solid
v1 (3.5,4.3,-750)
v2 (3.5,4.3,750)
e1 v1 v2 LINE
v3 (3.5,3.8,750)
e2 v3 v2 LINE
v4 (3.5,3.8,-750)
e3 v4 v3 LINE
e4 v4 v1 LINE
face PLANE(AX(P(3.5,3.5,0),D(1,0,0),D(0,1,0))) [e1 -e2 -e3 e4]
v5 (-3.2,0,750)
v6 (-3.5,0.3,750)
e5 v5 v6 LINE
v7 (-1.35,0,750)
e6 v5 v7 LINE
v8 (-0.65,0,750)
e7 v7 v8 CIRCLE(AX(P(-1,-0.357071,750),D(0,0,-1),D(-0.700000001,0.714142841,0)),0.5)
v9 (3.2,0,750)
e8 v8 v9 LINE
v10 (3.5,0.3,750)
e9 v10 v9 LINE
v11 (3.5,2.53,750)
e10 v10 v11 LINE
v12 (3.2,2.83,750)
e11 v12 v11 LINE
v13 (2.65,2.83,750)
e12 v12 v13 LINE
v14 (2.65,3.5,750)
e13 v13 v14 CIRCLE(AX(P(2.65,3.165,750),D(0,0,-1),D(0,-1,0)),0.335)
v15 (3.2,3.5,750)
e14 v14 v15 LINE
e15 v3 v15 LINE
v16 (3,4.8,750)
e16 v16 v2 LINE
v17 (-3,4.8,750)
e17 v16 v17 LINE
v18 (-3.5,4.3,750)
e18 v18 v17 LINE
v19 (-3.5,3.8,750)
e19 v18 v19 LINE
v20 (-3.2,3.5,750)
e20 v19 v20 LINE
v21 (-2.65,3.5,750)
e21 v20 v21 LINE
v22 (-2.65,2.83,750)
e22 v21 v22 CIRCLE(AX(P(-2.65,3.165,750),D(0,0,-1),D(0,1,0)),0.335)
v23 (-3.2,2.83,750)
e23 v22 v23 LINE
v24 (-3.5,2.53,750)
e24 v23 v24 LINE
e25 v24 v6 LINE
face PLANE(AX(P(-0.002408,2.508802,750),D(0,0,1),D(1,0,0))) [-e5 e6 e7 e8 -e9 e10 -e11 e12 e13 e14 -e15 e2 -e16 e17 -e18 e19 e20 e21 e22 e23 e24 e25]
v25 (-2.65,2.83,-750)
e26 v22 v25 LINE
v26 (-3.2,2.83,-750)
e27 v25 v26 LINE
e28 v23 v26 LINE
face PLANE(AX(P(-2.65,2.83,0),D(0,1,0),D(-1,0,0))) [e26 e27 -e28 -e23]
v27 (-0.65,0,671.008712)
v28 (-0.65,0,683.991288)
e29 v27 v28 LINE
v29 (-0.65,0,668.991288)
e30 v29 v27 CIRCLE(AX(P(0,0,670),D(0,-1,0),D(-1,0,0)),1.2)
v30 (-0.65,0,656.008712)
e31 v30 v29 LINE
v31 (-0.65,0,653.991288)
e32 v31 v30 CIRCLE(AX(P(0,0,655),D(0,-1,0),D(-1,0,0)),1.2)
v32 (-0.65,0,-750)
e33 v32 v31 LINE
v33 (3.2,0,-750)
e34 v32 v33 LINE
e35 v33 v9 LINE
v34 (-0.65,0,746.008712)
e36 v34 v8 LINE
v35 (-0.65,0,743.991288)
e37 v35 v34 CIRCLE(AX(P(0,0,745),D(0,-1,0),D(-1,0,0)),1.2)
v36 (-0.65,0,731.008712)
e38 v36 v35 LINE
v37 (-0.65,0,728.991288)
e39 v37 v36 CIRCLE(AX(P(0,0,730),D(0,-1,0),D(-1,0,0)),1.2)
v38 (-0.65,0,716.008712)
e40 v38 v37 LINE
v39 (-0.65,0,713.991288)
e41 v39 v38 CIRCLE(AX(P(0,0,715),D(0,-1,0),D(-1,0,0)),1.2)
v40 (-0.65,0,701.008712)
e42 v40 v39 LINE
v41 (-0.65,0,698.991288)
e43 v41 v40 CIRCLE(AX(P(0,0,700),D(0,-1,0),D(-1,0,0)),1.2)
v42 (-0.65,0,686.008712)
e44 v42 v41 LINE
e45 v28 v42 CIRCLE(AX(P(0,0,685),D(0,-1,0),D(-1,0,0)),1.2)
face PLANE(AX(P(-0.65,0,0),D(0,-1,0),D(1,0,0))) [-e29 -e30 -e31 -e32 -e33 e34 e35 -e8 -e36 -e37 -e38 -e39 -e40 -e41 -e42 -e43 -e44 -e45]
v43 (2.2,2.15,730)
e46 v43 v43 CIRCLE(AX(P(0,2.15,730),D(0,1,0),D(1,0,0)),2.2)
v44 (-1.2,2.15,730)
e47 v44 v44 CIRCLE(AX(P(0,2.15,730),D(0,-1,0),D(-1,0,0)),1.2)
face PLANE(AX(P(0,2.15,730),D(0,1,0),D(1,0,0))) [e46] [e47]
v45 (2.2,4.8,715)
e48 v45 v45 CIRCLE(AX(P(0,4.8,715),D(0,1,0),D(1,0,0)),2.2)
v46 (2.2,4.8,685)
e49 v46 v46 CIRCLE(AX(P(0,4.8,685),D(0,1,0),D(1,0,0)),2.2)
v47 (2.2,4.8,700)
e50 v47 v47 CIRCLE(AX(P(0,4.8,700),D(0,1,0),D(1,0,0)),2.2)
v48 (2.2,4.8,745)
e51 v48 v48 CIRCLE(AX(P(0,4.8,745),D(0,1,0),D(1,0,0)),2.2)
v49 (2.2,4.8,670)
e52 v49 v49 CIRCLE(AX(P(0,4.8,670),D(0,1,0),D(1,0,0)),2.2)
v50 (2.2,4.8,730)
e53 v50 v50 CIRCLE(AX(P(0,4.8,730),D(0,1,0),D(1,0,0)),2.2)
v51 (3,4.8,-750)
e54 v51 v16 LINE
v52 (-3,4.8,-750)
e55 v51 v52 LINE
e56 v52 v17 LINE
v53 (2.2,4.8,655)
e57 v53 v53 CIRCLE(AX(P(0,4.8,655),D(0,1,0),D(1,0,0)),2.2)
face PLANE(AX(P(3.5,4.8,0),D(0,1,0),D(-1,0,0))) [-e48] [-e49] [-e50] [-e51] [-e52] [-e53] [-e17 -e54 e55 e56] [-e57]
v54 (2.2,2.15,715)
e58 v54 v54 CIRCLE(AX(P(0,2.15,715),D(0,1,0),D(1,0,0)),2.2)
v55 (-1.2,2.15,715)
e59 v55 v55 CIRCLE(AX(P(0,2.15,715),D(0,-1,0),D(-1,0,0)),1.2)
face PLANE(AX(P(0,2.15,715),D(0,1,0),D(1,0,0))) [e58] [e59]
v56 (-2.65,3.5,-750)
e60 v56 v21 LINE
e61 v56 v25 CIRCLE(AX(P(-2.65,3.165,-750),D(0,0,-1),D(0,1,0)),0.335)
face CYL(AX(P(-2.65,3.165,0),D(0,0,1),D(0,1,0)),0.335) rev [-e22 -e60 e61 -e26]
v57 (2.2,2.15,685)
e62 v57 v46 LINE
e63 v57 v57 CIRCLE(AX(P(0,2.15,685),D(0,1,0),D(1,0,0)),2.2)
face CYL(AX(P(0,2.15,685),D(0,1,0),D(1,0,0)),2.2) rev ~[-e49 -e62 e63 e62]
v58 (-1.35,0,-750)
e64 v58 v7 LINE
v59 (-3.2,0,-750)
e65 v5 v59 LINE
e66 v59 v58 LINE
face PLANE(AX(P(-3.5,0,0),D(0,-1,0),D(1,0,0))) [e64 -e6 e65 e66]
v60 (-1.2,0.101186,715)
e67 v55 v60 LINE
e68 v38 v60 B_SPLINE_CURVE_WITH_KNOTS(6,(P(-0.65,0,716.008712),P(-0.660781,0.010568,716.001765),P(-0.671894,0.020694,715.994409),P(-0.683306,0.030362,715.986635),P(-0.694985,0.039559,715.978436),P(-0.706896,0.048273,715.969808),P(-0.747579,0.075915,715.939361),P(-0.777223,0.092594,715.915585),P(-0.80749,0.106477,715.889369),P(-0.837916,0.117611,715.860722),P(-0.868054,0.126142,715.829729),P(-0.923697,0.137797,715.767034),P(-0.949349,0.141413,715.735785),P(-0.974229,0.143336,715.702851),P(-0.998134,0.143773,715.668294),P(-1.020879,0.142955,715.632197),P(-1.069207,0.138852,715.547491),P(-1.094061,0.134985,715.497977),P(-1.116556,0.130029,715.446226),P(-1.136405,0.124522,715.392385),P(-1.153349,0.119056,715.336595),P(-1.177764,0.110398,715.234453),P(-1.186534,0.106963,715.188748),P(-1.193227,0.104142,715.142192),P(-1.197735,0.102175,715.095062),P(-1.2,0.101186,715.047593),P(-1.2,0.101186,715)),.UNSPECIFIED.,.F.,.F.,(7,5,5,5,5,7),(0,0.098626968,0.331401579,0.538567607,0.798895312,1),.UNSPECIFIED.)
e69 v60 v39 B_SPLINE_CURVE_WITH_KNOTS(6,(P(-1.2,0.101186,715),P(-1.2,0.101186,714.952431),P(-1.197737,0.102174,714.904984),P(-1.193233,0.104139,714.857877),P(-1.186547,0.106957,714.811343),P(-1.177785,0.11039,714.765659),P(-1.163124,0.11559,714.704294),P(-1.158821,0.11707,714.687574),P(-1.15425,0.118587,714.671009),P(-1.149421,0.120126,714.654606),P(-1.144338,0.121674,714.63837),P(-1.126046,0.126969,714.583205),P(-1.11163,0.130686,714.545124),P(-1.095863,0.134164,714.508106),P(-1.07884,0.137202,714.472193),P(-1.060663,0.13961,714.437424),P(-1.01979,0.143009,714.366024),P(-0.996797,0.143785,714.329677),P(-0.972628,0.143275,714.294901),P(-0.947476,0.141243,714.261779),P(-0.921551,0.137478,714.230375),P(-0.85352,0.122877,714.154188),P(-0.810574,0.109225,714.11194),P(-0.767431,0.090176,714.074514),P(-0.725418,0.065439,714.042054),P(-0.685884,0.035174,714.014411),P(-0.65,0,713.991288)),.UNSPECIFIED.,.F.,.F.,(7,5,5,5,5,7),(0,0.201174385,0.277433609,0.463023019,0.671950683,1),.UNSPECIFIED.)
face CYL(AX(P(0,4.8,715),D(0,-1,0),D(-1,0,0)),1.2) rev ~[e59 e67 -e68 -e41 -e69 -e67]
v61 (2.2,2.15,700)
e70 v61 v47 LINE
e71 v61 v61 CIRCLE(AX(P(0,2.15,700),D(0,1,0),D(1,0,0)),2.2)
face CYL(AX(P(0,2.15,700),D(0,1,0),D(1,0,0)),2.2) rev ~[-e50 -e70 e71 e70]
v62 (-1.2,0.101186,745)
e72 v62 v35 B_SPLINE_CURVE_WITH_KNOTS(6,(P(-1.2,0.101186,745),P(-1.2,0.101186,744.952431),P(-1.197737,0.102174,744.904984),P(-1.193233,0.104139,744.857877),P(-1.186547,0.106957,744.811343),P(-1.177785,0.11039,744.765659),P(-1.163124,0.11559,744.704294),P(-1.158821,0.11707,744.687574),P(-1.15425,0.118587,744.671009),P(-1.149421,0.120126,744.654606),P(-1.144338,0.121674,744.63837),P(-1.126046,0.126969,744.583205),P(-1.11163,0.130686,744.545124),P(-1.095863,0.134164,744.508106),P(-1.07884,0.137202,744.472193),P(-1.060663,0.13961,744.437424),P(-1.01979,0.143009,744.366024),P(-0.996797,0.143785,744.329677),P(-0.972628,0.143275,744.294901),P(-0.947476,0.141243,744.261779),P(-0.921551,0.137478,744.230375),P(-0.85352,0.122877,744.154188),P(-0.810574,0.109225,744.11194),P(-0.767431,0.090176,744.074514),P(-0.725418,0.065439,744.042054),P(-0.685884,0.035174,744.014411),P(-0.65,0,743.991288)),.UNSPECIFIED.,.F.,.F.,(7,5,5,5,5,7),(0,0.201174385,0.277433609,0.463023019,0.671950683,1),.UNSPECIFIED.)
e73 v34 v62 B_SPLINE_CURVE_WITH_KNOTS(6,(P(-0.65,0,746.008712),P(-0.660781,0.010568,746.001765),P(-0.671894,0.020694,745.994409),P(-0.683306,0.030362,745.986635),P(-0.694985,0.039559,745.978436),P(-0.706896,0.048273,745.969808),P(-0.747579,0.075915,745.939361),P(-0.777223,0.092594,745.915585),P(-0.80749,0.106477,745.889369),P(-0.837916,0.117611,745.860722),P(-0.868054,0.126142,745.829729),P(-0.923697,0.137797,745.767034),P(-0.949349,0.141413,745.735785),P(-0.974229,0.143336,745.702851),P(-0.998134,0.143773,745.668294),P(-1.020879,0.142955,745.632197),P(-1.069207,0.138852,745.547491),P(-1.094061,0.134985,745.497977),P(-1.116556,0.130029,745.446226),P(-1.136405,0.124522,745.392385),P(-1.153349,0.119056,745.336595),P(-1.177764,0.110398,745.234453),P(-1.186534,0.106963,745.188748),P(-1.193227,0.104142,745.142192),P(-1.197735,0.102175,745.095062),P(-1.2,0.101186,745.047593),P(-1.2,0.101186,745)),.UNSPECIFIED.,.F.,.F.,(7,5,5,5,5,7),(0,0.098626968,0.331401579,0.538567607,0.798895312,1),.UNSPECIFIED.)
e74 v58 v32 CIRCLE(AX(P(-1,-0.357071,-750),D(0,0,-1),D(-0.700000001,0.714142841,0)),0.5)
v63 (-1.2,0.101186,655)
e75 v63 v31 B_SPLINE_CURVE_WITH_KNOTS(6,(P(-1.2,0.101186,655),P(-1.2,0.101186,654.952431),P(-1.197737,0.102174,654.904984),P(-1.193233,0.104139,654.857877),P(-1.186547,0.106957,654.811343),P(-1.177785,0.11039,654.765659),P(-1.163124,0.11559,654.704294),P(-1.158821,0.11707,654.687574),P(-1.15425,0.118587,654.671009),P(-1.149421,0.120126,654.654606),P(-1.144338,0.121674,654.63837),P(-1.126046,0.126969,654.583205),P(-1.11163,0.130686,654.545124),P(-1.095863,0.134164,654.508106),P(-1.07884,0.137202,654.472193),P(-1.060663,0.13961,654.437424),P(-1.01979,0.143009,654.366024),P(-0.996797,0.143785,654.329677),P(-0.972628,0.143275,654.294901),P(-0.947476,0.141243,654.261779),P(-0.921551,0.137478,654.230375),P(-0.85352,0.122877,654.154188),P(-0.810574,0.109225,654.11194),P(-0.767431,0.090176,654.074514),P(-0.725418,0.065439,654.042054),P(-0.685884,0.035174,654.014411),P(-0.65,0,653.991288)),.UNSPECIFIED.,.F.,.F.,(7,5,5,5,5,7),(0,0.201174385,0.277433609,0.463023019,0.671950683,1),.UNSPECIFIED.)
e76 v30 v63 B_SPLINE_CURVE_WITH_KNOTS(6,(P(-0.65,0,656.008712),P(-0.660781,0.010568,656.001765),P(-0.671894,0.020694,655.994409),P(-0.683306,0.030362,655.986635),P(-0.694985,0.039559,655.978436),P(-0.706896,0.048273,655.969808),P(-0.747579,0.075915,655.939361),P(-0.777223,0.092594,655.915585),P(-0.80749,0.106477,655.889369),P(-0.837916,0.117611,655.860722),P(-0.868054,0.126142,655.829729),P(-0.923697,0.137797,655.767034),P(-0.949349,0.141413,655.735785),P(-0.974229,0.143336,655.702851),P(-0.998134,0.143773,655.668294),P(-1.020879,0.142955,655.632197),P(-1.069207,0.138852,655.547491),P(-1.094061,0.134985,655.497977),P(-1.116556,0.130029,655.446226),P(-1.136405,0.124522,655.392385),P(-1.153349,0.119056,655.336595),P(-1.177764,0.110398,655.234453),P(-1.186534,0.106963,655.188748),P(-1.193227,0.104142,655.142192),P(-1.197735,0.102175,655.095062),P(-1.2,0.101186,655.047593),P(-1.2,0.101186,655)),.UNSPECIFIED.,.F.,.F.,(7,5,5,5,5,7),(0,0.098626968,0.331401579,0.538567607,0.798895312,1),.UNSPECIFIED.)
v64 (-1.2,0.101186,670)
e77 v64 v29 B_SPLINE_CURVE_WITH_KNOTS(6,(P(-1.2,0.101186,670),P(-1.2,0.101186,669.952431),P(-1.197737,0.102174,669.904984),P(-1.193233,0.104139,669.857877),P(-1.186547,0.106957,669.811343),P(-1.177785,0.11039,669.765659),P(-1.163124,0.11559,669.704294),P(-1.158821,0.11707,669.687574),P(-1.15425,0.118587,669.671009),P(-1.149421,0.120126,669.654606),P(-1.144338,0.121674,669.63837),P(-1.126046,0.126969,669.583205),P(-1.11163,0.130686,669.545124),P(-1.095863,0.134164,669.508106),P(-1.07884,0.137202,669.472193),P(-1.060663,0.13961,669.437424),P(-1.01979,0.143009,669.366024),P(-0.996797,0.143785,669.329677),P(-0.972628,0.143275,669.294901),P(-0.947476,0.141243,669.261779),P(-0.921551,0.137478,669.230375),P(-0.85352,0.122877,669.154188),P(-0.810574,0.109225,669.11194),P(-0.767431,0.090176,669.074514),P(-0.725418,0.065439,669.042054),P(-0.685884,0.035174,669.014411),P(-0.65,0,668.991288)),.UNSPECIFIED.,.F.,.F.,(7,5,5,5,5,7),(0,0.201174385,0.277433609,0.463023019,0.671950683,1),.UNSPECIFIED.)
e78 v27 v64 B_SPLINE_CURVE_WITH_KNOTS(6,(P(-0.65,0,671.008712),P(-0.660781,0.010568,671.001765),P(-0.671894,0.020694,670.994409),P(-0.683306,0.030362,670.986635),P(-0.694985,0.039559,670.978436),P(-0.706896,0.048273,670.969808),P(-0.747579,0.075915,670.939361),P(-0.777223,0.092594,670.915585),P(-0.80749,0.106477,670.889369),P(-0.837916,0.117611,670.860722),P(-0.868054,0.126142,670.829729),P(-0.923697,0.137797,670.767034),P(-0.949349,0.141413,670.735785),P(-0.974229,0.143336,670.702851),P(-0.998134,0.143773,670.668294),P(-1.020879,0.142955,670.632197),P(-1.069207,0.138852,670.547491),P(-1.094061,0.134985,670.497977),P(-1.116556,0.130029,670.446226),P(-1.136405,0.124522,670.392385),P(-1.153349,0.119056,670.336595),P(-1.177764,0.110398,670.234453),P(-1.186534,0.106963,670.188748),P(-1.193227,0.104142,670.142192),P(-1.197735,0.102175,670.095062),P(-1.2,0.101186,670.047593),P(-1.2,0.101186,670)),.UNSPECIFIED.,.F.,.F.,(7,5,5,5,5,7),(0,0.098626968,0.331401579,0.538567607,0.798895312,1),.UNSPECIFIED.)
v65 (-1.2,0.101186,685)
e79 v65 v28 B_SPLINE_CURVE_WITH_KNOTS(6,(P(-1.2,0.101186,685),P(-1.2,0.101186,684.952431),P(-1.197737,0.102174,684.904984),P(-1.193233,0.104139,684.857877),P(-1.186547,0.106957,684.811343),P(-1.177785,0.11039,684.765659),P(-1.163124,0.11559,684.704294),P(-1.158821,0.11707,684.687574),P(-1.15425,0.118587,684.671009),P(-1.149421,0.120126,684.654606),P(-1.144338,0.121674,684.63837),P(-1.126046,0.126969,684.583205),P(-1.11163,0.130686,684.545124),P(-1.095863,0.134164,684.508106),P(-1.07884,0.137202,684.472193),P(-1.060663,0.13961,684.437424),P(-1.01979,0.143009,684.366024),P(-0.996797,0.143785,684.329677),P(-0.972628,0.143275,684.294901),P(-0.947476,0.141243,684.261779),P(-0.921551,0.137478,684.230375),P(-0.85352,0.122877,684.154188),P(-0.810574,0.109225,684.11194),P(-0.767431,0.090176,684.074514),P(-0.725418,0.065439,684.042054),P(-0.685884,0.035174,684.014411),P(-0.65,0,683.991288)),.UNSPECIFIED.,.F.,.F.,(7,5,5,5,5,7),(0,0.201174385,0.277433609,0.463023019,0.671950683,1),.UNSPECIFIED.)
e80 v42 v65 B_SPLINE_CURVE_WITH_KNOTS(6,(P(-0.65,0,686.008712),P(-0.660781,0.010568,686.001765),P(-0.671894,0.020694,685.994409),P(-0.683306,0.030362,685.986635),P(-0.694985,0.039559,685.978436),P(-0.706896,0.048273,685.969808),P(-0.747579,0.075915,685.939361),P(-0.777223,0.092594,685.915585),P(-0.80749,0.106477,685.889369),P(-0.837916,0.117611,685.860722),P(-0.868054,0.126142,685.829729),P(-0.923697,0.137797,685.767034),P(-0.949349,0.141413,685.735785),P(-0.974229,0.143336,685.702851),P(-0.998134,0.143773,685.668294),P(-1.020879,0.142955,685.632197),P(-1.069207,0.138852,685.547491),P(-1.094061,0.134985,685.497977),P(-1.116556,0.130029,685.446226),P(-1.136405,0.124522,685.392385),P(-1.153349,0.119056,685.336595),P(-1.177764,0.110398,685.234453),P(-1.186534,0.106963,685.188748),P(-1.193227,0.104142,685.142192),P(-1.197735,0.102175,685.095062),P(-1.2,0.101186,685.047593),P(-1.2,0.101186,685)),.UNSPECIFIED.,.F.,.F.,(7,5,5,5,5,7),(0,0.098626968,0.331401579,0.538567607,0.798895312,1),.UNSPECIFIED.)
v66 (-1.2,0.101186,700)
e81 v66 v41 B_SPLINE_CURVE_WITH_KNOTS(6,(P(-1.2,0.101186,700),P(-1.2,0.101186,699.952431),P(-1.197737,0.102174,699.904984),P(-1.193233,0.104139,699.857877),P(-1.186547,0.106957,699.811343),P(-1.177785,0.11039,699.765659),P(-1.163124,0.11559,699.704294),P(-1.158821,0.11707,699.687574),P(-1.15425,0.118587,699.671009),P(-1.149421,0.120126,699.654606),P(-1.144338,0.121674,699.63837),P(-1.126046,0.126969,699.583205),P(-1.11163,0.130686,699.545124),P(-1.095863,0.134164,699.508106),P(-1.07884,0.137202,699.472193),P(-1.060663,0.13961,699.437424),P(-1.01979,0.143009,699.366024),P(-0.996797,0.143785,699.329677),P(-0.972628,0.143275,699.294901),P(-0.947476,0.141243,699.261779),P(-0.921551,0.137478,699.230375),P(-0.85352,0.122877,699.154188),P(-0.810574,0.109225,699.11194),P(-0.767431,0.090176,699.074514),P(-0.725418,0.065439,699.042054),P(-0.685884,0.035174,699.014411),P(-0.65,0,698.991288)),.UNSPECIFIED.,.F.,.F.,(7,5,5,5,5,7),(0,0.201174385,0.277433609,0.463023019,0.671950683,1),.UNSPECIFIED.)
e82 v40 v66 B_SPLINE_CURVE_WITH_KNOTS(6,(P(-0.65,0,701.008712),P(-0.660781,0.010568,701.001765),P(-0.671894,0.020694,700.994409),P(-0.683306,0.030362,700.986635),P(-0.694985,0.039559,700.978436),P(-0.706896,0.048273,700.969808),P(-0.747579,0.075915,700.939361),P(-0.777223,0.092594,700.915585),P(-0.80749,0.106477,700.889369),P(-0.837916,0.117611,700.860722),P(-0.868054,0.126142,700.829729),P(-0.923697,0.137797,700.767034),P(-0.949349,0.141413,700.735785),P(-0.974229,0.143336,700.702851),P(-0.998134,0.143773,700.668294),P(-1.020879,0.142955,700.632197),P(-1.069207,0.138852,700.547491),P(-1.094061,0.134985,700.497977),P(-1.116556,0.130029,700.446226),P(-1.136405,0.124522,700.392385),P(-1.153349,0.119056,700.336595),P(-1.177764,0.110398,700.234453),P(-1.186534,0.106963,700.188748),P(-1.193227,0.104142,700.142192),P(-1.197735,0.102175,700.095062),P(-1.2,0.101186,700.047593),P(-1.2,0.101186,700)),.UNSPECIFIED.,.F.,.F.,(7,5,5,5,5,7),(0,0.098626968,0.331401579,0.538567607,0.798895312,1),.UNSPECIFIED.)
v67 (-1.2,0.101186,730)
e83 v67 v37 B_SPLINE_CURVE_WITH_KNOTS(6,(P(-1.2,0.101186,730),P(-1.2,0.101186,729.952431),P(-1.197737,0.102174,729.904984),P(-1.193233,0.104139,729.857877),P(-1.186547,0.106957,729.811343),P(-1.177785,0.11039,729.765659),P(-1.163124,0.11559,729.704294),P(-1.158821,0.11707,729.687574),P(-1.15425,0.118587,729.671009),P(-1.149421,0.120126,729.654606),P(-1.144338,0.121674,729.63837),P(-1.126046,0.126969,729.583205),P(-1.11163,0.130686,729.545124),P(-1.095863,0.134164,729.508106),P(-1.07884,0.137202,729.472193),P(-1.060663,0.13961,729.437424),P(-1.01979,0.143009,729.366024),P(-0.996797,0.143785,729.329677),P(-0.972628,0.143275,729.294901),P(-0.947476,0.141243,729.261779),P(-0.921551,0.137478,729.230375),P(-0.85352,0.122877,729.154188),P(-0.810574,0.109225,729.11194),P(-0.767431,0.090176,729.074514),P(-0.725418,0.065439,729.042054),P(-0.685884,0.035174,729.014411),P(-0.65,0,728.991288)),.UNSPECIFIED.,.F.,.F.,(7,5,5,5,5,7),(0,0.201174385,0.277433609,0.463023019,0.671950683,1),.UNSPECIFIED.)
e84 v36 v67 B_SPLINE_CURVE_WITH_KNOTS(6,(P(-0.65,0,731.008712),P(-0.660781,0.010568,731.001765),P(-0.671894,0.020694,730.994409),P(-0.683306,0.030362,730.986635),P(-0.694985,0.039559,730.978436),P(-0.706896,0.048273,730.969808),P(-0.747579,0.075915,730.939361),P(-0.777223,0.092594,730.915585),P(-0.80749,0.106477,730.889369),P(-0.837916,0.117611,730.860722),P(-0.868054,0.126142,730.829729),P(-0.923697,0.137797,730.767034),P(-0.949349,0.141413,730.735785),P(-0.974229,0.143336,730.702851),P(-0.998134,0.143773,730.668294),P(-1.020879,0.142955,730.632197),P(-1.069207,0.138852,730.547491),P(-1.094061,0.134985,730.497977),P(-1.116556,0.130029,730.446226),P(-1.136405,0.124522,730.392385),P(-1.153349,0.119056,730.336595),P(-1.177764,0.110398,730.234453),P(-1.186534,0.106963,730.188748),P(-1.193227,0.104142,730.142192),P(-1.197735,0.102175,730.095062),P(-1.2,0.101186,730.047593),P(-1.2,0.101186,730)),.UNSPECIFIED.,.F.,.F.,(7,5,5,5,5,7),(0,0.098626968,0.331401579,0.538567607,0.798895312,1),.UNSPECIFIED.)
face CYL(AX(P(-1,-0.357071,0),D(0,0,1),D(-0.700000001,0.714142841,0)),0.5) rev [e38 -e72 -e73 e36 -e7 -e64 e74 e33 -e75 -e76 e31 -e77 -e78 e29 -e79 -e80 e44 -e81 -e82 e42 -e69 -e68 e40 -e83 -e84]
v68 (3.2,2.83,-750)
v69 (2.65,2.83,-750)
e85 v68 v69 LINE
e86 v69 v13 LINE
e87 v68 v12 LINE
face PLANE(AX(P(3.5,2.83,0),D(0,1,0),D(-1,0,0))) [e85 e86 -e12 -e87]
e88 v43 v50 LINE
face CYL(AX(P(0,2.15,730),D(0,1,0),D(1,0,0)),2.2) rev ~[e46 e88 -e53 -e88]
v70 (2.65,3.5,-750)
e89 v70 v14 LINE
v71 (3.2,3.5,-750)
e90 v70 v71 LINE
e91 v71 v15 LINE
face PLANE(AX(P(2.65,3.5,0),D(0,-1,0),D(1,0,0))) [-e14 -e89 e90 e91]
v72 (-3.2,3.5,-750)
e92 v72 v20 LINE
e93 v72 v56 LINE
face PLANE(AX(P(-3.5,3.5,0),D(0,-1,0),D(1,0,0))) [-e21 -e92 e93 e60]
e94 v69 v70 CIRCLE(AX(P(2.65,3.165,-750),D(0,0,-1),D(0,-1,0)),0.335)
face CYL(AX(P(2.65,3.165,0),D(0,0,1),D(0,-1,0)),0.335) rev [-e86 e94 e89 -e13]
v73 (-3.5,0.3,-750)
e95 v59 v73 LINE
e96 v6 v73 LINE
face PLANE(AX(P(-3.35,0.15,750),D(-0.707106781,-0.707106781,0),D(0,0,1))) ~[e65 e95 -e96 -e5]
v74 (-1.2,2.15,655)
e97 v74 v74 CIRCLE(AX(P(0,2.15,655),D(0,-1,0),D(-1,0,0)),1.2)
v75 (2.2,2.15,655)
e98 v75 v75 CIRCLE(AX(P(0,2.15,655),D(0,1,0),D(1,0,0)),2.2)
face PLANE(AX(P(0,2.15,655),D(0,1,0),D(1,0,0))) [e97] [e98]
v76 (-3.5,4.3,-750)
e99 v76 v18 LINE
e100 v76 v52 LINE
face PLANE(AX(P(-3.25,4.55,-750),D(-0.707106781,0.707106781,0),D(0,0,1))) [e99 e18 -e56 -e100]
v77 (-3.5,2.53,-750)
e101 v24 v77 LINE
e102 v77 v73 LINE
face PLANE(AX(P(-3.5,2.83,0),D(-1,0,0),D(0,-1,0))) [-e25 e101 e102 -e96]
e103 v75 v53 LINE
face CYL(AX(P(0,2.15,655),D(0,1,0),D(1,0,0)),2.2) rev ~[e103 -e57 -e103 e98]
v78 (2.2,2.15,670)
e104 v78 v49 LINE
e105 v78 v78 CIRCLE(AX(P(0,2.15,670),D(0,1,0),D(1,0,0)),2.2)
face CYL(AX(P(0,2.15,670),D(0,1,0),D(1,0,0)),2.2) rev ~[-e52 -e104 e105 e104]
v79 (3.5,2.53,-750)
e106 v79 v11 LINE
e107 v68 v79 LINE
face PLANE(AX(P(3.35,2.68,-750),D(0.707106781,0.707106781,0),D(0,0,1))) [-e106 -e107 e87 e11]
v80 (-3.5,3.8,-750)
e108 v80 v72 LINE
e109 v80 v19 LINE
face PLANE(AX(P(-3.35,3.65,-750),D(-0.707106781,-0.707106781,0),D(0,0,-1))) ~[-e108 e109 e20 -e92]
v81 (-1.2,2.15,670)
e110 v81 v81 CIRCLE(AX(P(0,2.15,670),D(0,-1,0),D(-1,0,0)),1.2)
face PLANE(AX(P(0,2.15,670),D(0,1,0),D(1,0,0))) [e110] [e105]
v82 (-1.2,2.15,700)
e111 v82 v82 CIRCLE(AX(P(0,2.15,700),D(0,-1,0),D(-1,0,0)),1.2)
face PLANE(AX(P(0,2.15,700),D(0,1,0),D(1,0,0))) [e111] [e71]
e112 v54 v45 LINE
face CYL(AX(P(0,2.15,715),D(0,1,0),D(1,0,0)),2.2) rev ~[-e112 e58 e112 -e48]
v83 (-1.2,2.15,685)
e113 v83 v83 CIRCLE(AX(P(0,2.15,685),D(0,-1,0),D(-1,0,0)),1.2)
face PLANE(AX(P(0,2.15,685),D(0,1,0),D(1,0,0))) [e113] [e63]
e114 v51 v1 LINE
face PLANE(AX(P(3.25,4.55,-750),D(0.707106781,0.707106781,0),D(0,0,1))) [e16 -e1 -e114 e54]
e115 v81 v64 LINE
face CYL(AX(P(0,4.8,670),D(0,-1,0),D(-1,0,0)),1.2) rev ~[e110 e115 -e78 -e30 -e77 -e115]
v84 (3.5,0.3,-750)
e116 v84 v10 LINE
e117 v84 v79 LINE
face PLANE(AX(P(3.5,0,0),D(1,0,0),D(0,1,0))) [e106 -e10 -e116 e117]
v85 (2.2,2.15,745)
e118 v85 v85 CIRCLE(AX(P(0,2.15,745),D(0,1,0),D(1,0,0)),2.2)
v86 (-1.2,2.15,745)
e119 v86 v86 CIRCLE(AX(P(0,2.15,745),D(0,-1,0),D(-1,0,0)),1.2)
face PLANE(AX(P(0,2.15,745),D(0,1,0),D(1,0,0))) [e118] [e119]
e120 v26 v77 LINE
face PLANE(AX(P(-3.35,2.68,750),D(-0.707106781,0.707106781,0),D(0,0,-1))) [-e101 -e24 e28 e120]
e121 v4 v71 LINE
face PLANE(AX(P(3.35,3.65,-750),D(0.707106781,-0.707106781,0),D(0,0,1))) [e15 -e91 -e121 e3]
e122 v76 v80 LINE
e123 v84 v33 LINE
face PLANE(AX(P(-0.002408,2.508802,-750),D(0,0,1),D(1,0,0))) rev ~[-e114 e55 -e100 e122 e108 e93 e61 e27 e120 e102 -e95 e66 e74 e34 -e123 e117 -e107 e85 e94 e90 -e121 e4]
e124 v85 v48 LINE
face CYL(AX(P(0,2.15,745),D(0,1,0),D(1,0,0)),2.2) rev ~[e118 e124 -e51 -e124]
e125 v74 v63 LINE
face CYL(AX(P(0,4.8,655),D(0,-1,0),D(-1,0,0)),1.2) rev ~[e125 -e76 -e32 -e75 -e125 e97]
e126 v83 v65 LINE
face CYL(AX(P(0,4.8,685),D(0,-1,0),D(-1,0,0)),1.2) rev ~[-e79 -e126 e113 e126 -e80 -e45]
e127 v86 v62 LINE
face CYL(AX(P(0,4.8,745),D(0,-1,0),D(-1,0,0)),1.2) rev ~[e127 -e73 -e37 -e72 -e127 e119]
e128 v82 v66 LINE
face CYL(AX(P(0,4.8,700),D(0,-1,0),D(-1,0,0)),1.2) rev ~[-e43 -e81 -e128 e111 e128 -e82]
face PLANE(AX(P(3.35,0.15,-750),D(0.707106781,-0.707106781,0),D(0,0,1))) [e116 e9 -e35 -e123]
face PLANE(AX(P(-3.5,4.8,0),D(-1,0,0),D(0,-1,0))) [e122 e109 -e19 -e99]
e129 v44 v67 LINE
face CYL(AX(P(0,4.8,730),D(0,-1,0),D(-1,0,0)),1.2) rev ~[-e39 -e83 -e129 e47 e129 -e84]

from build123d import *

# Parameters (mm, degrees)
BOSS_EXTRUDE1_DEPTH            = 750
CHAMFER1_SIZE                  = 0.5
CHAMFER2_SIZE                  = 0.3
CBORE_FOR_M2_SHCS1_D           = 2.4
CBORE_FOR_M2_SHCS1_CBORE_D     = 4.4
CBORE_FOR_M2_SHCS1_CBORE_DEPTH = 2.65
LPATTERN1_COUNT                = 7
LPATTERN1_PITCH                = 15


with BuildPart() as part:
    # Sketch3 → Boss-Extrude1 (new, symmetric)
    with BuildSketch(Plane.XY):
        with BuildLine():
            Line((-3.5, 0), (-1.35, 0))
            ThreePointArc((-1.35, 0), (-1, 0.142928579), (-0.65, 0))
            Line((-0.65, 0), (3.5, 0))
            Line((3.5, 0), (3.5, 2.83))
            Line((3.5, 2.83), (2.65, 2.83))
            ThreePointArc((2.65, 2.83), (2.315, 3.165), (2.65, 3.5))
            Line((2.65, 3.5), (3.5, 3.5))
            Line((3.5, 3.5), (3.5, 4.8))
            Line((3.5, 4.8), (-3.5, 4.8))
            Line((-3.5, 4.8), (-3.5, 3.5))
            Line((-3.5, 3.5), (-2.65, 3.5))
            ThreePointArc((-2.65, 3.5), (-2.315, 3.165), (-2.65, 2.83))
            Line((-2.65, 2.83), (-3.5, 2.83))
            Line((-3.5, 2.83), (-3.5, 0))
        make_face()
    extrude(amount=BOSS_EXTRUDE1_DEPTH, both=True)

    # Chamfer1
    chamfer1_edges = [part.edges().sort_by_distance(p)[0] for p in [
        (-3.5, 4.8, 0),
        (3.5, 4.8, 0),
    ]]
    chamfer(chamfer1_edges, length=CHAMFER1_SIZE)

    # Chamfer2
    chamfer2_edges = [part.edges().sort_by_distance(p)[0] for p in [
        (-3.5, 2.83, 0),
        (-3.5, 3.5, 0),
        (3.5, 3.5, 0),
        (3.5, 2.83, 0),
        (3.5, 0, 0),
        (-3.5, 0, 0),
    ]]
    chamfer(chamfer2_edges, length=CHAMFER2_SIZE)

    # CBORE for M2 SHCS1 (through all)
    with Locations(Plane(origin=(0, 4.8, 0), x_dir=(1, 0, 0), z_dir=(0, 1, 0))):
        with Locations((0, -745)):
            cbore_for_m2_shcs1 = CounterBoreHole(CBORE_FOR_M2_SHCS1_D / 2, CBORE_FOR_M2_SHCS1_CBORE_D / 2, CBORE_FOR_M2_SHCS1_CBORE_DEPTH)

    # LPattern1: CBORE for M2 SHCS1 ×7
    with Locations(*[(0, 0, -i * LPATTERN1_PITCH) for i in range(1, LPATTERN1_COUNT)]):
        add(cbore_for_m2_shcs1, mode=Mode.SUBTRACT)


solid = part.part
